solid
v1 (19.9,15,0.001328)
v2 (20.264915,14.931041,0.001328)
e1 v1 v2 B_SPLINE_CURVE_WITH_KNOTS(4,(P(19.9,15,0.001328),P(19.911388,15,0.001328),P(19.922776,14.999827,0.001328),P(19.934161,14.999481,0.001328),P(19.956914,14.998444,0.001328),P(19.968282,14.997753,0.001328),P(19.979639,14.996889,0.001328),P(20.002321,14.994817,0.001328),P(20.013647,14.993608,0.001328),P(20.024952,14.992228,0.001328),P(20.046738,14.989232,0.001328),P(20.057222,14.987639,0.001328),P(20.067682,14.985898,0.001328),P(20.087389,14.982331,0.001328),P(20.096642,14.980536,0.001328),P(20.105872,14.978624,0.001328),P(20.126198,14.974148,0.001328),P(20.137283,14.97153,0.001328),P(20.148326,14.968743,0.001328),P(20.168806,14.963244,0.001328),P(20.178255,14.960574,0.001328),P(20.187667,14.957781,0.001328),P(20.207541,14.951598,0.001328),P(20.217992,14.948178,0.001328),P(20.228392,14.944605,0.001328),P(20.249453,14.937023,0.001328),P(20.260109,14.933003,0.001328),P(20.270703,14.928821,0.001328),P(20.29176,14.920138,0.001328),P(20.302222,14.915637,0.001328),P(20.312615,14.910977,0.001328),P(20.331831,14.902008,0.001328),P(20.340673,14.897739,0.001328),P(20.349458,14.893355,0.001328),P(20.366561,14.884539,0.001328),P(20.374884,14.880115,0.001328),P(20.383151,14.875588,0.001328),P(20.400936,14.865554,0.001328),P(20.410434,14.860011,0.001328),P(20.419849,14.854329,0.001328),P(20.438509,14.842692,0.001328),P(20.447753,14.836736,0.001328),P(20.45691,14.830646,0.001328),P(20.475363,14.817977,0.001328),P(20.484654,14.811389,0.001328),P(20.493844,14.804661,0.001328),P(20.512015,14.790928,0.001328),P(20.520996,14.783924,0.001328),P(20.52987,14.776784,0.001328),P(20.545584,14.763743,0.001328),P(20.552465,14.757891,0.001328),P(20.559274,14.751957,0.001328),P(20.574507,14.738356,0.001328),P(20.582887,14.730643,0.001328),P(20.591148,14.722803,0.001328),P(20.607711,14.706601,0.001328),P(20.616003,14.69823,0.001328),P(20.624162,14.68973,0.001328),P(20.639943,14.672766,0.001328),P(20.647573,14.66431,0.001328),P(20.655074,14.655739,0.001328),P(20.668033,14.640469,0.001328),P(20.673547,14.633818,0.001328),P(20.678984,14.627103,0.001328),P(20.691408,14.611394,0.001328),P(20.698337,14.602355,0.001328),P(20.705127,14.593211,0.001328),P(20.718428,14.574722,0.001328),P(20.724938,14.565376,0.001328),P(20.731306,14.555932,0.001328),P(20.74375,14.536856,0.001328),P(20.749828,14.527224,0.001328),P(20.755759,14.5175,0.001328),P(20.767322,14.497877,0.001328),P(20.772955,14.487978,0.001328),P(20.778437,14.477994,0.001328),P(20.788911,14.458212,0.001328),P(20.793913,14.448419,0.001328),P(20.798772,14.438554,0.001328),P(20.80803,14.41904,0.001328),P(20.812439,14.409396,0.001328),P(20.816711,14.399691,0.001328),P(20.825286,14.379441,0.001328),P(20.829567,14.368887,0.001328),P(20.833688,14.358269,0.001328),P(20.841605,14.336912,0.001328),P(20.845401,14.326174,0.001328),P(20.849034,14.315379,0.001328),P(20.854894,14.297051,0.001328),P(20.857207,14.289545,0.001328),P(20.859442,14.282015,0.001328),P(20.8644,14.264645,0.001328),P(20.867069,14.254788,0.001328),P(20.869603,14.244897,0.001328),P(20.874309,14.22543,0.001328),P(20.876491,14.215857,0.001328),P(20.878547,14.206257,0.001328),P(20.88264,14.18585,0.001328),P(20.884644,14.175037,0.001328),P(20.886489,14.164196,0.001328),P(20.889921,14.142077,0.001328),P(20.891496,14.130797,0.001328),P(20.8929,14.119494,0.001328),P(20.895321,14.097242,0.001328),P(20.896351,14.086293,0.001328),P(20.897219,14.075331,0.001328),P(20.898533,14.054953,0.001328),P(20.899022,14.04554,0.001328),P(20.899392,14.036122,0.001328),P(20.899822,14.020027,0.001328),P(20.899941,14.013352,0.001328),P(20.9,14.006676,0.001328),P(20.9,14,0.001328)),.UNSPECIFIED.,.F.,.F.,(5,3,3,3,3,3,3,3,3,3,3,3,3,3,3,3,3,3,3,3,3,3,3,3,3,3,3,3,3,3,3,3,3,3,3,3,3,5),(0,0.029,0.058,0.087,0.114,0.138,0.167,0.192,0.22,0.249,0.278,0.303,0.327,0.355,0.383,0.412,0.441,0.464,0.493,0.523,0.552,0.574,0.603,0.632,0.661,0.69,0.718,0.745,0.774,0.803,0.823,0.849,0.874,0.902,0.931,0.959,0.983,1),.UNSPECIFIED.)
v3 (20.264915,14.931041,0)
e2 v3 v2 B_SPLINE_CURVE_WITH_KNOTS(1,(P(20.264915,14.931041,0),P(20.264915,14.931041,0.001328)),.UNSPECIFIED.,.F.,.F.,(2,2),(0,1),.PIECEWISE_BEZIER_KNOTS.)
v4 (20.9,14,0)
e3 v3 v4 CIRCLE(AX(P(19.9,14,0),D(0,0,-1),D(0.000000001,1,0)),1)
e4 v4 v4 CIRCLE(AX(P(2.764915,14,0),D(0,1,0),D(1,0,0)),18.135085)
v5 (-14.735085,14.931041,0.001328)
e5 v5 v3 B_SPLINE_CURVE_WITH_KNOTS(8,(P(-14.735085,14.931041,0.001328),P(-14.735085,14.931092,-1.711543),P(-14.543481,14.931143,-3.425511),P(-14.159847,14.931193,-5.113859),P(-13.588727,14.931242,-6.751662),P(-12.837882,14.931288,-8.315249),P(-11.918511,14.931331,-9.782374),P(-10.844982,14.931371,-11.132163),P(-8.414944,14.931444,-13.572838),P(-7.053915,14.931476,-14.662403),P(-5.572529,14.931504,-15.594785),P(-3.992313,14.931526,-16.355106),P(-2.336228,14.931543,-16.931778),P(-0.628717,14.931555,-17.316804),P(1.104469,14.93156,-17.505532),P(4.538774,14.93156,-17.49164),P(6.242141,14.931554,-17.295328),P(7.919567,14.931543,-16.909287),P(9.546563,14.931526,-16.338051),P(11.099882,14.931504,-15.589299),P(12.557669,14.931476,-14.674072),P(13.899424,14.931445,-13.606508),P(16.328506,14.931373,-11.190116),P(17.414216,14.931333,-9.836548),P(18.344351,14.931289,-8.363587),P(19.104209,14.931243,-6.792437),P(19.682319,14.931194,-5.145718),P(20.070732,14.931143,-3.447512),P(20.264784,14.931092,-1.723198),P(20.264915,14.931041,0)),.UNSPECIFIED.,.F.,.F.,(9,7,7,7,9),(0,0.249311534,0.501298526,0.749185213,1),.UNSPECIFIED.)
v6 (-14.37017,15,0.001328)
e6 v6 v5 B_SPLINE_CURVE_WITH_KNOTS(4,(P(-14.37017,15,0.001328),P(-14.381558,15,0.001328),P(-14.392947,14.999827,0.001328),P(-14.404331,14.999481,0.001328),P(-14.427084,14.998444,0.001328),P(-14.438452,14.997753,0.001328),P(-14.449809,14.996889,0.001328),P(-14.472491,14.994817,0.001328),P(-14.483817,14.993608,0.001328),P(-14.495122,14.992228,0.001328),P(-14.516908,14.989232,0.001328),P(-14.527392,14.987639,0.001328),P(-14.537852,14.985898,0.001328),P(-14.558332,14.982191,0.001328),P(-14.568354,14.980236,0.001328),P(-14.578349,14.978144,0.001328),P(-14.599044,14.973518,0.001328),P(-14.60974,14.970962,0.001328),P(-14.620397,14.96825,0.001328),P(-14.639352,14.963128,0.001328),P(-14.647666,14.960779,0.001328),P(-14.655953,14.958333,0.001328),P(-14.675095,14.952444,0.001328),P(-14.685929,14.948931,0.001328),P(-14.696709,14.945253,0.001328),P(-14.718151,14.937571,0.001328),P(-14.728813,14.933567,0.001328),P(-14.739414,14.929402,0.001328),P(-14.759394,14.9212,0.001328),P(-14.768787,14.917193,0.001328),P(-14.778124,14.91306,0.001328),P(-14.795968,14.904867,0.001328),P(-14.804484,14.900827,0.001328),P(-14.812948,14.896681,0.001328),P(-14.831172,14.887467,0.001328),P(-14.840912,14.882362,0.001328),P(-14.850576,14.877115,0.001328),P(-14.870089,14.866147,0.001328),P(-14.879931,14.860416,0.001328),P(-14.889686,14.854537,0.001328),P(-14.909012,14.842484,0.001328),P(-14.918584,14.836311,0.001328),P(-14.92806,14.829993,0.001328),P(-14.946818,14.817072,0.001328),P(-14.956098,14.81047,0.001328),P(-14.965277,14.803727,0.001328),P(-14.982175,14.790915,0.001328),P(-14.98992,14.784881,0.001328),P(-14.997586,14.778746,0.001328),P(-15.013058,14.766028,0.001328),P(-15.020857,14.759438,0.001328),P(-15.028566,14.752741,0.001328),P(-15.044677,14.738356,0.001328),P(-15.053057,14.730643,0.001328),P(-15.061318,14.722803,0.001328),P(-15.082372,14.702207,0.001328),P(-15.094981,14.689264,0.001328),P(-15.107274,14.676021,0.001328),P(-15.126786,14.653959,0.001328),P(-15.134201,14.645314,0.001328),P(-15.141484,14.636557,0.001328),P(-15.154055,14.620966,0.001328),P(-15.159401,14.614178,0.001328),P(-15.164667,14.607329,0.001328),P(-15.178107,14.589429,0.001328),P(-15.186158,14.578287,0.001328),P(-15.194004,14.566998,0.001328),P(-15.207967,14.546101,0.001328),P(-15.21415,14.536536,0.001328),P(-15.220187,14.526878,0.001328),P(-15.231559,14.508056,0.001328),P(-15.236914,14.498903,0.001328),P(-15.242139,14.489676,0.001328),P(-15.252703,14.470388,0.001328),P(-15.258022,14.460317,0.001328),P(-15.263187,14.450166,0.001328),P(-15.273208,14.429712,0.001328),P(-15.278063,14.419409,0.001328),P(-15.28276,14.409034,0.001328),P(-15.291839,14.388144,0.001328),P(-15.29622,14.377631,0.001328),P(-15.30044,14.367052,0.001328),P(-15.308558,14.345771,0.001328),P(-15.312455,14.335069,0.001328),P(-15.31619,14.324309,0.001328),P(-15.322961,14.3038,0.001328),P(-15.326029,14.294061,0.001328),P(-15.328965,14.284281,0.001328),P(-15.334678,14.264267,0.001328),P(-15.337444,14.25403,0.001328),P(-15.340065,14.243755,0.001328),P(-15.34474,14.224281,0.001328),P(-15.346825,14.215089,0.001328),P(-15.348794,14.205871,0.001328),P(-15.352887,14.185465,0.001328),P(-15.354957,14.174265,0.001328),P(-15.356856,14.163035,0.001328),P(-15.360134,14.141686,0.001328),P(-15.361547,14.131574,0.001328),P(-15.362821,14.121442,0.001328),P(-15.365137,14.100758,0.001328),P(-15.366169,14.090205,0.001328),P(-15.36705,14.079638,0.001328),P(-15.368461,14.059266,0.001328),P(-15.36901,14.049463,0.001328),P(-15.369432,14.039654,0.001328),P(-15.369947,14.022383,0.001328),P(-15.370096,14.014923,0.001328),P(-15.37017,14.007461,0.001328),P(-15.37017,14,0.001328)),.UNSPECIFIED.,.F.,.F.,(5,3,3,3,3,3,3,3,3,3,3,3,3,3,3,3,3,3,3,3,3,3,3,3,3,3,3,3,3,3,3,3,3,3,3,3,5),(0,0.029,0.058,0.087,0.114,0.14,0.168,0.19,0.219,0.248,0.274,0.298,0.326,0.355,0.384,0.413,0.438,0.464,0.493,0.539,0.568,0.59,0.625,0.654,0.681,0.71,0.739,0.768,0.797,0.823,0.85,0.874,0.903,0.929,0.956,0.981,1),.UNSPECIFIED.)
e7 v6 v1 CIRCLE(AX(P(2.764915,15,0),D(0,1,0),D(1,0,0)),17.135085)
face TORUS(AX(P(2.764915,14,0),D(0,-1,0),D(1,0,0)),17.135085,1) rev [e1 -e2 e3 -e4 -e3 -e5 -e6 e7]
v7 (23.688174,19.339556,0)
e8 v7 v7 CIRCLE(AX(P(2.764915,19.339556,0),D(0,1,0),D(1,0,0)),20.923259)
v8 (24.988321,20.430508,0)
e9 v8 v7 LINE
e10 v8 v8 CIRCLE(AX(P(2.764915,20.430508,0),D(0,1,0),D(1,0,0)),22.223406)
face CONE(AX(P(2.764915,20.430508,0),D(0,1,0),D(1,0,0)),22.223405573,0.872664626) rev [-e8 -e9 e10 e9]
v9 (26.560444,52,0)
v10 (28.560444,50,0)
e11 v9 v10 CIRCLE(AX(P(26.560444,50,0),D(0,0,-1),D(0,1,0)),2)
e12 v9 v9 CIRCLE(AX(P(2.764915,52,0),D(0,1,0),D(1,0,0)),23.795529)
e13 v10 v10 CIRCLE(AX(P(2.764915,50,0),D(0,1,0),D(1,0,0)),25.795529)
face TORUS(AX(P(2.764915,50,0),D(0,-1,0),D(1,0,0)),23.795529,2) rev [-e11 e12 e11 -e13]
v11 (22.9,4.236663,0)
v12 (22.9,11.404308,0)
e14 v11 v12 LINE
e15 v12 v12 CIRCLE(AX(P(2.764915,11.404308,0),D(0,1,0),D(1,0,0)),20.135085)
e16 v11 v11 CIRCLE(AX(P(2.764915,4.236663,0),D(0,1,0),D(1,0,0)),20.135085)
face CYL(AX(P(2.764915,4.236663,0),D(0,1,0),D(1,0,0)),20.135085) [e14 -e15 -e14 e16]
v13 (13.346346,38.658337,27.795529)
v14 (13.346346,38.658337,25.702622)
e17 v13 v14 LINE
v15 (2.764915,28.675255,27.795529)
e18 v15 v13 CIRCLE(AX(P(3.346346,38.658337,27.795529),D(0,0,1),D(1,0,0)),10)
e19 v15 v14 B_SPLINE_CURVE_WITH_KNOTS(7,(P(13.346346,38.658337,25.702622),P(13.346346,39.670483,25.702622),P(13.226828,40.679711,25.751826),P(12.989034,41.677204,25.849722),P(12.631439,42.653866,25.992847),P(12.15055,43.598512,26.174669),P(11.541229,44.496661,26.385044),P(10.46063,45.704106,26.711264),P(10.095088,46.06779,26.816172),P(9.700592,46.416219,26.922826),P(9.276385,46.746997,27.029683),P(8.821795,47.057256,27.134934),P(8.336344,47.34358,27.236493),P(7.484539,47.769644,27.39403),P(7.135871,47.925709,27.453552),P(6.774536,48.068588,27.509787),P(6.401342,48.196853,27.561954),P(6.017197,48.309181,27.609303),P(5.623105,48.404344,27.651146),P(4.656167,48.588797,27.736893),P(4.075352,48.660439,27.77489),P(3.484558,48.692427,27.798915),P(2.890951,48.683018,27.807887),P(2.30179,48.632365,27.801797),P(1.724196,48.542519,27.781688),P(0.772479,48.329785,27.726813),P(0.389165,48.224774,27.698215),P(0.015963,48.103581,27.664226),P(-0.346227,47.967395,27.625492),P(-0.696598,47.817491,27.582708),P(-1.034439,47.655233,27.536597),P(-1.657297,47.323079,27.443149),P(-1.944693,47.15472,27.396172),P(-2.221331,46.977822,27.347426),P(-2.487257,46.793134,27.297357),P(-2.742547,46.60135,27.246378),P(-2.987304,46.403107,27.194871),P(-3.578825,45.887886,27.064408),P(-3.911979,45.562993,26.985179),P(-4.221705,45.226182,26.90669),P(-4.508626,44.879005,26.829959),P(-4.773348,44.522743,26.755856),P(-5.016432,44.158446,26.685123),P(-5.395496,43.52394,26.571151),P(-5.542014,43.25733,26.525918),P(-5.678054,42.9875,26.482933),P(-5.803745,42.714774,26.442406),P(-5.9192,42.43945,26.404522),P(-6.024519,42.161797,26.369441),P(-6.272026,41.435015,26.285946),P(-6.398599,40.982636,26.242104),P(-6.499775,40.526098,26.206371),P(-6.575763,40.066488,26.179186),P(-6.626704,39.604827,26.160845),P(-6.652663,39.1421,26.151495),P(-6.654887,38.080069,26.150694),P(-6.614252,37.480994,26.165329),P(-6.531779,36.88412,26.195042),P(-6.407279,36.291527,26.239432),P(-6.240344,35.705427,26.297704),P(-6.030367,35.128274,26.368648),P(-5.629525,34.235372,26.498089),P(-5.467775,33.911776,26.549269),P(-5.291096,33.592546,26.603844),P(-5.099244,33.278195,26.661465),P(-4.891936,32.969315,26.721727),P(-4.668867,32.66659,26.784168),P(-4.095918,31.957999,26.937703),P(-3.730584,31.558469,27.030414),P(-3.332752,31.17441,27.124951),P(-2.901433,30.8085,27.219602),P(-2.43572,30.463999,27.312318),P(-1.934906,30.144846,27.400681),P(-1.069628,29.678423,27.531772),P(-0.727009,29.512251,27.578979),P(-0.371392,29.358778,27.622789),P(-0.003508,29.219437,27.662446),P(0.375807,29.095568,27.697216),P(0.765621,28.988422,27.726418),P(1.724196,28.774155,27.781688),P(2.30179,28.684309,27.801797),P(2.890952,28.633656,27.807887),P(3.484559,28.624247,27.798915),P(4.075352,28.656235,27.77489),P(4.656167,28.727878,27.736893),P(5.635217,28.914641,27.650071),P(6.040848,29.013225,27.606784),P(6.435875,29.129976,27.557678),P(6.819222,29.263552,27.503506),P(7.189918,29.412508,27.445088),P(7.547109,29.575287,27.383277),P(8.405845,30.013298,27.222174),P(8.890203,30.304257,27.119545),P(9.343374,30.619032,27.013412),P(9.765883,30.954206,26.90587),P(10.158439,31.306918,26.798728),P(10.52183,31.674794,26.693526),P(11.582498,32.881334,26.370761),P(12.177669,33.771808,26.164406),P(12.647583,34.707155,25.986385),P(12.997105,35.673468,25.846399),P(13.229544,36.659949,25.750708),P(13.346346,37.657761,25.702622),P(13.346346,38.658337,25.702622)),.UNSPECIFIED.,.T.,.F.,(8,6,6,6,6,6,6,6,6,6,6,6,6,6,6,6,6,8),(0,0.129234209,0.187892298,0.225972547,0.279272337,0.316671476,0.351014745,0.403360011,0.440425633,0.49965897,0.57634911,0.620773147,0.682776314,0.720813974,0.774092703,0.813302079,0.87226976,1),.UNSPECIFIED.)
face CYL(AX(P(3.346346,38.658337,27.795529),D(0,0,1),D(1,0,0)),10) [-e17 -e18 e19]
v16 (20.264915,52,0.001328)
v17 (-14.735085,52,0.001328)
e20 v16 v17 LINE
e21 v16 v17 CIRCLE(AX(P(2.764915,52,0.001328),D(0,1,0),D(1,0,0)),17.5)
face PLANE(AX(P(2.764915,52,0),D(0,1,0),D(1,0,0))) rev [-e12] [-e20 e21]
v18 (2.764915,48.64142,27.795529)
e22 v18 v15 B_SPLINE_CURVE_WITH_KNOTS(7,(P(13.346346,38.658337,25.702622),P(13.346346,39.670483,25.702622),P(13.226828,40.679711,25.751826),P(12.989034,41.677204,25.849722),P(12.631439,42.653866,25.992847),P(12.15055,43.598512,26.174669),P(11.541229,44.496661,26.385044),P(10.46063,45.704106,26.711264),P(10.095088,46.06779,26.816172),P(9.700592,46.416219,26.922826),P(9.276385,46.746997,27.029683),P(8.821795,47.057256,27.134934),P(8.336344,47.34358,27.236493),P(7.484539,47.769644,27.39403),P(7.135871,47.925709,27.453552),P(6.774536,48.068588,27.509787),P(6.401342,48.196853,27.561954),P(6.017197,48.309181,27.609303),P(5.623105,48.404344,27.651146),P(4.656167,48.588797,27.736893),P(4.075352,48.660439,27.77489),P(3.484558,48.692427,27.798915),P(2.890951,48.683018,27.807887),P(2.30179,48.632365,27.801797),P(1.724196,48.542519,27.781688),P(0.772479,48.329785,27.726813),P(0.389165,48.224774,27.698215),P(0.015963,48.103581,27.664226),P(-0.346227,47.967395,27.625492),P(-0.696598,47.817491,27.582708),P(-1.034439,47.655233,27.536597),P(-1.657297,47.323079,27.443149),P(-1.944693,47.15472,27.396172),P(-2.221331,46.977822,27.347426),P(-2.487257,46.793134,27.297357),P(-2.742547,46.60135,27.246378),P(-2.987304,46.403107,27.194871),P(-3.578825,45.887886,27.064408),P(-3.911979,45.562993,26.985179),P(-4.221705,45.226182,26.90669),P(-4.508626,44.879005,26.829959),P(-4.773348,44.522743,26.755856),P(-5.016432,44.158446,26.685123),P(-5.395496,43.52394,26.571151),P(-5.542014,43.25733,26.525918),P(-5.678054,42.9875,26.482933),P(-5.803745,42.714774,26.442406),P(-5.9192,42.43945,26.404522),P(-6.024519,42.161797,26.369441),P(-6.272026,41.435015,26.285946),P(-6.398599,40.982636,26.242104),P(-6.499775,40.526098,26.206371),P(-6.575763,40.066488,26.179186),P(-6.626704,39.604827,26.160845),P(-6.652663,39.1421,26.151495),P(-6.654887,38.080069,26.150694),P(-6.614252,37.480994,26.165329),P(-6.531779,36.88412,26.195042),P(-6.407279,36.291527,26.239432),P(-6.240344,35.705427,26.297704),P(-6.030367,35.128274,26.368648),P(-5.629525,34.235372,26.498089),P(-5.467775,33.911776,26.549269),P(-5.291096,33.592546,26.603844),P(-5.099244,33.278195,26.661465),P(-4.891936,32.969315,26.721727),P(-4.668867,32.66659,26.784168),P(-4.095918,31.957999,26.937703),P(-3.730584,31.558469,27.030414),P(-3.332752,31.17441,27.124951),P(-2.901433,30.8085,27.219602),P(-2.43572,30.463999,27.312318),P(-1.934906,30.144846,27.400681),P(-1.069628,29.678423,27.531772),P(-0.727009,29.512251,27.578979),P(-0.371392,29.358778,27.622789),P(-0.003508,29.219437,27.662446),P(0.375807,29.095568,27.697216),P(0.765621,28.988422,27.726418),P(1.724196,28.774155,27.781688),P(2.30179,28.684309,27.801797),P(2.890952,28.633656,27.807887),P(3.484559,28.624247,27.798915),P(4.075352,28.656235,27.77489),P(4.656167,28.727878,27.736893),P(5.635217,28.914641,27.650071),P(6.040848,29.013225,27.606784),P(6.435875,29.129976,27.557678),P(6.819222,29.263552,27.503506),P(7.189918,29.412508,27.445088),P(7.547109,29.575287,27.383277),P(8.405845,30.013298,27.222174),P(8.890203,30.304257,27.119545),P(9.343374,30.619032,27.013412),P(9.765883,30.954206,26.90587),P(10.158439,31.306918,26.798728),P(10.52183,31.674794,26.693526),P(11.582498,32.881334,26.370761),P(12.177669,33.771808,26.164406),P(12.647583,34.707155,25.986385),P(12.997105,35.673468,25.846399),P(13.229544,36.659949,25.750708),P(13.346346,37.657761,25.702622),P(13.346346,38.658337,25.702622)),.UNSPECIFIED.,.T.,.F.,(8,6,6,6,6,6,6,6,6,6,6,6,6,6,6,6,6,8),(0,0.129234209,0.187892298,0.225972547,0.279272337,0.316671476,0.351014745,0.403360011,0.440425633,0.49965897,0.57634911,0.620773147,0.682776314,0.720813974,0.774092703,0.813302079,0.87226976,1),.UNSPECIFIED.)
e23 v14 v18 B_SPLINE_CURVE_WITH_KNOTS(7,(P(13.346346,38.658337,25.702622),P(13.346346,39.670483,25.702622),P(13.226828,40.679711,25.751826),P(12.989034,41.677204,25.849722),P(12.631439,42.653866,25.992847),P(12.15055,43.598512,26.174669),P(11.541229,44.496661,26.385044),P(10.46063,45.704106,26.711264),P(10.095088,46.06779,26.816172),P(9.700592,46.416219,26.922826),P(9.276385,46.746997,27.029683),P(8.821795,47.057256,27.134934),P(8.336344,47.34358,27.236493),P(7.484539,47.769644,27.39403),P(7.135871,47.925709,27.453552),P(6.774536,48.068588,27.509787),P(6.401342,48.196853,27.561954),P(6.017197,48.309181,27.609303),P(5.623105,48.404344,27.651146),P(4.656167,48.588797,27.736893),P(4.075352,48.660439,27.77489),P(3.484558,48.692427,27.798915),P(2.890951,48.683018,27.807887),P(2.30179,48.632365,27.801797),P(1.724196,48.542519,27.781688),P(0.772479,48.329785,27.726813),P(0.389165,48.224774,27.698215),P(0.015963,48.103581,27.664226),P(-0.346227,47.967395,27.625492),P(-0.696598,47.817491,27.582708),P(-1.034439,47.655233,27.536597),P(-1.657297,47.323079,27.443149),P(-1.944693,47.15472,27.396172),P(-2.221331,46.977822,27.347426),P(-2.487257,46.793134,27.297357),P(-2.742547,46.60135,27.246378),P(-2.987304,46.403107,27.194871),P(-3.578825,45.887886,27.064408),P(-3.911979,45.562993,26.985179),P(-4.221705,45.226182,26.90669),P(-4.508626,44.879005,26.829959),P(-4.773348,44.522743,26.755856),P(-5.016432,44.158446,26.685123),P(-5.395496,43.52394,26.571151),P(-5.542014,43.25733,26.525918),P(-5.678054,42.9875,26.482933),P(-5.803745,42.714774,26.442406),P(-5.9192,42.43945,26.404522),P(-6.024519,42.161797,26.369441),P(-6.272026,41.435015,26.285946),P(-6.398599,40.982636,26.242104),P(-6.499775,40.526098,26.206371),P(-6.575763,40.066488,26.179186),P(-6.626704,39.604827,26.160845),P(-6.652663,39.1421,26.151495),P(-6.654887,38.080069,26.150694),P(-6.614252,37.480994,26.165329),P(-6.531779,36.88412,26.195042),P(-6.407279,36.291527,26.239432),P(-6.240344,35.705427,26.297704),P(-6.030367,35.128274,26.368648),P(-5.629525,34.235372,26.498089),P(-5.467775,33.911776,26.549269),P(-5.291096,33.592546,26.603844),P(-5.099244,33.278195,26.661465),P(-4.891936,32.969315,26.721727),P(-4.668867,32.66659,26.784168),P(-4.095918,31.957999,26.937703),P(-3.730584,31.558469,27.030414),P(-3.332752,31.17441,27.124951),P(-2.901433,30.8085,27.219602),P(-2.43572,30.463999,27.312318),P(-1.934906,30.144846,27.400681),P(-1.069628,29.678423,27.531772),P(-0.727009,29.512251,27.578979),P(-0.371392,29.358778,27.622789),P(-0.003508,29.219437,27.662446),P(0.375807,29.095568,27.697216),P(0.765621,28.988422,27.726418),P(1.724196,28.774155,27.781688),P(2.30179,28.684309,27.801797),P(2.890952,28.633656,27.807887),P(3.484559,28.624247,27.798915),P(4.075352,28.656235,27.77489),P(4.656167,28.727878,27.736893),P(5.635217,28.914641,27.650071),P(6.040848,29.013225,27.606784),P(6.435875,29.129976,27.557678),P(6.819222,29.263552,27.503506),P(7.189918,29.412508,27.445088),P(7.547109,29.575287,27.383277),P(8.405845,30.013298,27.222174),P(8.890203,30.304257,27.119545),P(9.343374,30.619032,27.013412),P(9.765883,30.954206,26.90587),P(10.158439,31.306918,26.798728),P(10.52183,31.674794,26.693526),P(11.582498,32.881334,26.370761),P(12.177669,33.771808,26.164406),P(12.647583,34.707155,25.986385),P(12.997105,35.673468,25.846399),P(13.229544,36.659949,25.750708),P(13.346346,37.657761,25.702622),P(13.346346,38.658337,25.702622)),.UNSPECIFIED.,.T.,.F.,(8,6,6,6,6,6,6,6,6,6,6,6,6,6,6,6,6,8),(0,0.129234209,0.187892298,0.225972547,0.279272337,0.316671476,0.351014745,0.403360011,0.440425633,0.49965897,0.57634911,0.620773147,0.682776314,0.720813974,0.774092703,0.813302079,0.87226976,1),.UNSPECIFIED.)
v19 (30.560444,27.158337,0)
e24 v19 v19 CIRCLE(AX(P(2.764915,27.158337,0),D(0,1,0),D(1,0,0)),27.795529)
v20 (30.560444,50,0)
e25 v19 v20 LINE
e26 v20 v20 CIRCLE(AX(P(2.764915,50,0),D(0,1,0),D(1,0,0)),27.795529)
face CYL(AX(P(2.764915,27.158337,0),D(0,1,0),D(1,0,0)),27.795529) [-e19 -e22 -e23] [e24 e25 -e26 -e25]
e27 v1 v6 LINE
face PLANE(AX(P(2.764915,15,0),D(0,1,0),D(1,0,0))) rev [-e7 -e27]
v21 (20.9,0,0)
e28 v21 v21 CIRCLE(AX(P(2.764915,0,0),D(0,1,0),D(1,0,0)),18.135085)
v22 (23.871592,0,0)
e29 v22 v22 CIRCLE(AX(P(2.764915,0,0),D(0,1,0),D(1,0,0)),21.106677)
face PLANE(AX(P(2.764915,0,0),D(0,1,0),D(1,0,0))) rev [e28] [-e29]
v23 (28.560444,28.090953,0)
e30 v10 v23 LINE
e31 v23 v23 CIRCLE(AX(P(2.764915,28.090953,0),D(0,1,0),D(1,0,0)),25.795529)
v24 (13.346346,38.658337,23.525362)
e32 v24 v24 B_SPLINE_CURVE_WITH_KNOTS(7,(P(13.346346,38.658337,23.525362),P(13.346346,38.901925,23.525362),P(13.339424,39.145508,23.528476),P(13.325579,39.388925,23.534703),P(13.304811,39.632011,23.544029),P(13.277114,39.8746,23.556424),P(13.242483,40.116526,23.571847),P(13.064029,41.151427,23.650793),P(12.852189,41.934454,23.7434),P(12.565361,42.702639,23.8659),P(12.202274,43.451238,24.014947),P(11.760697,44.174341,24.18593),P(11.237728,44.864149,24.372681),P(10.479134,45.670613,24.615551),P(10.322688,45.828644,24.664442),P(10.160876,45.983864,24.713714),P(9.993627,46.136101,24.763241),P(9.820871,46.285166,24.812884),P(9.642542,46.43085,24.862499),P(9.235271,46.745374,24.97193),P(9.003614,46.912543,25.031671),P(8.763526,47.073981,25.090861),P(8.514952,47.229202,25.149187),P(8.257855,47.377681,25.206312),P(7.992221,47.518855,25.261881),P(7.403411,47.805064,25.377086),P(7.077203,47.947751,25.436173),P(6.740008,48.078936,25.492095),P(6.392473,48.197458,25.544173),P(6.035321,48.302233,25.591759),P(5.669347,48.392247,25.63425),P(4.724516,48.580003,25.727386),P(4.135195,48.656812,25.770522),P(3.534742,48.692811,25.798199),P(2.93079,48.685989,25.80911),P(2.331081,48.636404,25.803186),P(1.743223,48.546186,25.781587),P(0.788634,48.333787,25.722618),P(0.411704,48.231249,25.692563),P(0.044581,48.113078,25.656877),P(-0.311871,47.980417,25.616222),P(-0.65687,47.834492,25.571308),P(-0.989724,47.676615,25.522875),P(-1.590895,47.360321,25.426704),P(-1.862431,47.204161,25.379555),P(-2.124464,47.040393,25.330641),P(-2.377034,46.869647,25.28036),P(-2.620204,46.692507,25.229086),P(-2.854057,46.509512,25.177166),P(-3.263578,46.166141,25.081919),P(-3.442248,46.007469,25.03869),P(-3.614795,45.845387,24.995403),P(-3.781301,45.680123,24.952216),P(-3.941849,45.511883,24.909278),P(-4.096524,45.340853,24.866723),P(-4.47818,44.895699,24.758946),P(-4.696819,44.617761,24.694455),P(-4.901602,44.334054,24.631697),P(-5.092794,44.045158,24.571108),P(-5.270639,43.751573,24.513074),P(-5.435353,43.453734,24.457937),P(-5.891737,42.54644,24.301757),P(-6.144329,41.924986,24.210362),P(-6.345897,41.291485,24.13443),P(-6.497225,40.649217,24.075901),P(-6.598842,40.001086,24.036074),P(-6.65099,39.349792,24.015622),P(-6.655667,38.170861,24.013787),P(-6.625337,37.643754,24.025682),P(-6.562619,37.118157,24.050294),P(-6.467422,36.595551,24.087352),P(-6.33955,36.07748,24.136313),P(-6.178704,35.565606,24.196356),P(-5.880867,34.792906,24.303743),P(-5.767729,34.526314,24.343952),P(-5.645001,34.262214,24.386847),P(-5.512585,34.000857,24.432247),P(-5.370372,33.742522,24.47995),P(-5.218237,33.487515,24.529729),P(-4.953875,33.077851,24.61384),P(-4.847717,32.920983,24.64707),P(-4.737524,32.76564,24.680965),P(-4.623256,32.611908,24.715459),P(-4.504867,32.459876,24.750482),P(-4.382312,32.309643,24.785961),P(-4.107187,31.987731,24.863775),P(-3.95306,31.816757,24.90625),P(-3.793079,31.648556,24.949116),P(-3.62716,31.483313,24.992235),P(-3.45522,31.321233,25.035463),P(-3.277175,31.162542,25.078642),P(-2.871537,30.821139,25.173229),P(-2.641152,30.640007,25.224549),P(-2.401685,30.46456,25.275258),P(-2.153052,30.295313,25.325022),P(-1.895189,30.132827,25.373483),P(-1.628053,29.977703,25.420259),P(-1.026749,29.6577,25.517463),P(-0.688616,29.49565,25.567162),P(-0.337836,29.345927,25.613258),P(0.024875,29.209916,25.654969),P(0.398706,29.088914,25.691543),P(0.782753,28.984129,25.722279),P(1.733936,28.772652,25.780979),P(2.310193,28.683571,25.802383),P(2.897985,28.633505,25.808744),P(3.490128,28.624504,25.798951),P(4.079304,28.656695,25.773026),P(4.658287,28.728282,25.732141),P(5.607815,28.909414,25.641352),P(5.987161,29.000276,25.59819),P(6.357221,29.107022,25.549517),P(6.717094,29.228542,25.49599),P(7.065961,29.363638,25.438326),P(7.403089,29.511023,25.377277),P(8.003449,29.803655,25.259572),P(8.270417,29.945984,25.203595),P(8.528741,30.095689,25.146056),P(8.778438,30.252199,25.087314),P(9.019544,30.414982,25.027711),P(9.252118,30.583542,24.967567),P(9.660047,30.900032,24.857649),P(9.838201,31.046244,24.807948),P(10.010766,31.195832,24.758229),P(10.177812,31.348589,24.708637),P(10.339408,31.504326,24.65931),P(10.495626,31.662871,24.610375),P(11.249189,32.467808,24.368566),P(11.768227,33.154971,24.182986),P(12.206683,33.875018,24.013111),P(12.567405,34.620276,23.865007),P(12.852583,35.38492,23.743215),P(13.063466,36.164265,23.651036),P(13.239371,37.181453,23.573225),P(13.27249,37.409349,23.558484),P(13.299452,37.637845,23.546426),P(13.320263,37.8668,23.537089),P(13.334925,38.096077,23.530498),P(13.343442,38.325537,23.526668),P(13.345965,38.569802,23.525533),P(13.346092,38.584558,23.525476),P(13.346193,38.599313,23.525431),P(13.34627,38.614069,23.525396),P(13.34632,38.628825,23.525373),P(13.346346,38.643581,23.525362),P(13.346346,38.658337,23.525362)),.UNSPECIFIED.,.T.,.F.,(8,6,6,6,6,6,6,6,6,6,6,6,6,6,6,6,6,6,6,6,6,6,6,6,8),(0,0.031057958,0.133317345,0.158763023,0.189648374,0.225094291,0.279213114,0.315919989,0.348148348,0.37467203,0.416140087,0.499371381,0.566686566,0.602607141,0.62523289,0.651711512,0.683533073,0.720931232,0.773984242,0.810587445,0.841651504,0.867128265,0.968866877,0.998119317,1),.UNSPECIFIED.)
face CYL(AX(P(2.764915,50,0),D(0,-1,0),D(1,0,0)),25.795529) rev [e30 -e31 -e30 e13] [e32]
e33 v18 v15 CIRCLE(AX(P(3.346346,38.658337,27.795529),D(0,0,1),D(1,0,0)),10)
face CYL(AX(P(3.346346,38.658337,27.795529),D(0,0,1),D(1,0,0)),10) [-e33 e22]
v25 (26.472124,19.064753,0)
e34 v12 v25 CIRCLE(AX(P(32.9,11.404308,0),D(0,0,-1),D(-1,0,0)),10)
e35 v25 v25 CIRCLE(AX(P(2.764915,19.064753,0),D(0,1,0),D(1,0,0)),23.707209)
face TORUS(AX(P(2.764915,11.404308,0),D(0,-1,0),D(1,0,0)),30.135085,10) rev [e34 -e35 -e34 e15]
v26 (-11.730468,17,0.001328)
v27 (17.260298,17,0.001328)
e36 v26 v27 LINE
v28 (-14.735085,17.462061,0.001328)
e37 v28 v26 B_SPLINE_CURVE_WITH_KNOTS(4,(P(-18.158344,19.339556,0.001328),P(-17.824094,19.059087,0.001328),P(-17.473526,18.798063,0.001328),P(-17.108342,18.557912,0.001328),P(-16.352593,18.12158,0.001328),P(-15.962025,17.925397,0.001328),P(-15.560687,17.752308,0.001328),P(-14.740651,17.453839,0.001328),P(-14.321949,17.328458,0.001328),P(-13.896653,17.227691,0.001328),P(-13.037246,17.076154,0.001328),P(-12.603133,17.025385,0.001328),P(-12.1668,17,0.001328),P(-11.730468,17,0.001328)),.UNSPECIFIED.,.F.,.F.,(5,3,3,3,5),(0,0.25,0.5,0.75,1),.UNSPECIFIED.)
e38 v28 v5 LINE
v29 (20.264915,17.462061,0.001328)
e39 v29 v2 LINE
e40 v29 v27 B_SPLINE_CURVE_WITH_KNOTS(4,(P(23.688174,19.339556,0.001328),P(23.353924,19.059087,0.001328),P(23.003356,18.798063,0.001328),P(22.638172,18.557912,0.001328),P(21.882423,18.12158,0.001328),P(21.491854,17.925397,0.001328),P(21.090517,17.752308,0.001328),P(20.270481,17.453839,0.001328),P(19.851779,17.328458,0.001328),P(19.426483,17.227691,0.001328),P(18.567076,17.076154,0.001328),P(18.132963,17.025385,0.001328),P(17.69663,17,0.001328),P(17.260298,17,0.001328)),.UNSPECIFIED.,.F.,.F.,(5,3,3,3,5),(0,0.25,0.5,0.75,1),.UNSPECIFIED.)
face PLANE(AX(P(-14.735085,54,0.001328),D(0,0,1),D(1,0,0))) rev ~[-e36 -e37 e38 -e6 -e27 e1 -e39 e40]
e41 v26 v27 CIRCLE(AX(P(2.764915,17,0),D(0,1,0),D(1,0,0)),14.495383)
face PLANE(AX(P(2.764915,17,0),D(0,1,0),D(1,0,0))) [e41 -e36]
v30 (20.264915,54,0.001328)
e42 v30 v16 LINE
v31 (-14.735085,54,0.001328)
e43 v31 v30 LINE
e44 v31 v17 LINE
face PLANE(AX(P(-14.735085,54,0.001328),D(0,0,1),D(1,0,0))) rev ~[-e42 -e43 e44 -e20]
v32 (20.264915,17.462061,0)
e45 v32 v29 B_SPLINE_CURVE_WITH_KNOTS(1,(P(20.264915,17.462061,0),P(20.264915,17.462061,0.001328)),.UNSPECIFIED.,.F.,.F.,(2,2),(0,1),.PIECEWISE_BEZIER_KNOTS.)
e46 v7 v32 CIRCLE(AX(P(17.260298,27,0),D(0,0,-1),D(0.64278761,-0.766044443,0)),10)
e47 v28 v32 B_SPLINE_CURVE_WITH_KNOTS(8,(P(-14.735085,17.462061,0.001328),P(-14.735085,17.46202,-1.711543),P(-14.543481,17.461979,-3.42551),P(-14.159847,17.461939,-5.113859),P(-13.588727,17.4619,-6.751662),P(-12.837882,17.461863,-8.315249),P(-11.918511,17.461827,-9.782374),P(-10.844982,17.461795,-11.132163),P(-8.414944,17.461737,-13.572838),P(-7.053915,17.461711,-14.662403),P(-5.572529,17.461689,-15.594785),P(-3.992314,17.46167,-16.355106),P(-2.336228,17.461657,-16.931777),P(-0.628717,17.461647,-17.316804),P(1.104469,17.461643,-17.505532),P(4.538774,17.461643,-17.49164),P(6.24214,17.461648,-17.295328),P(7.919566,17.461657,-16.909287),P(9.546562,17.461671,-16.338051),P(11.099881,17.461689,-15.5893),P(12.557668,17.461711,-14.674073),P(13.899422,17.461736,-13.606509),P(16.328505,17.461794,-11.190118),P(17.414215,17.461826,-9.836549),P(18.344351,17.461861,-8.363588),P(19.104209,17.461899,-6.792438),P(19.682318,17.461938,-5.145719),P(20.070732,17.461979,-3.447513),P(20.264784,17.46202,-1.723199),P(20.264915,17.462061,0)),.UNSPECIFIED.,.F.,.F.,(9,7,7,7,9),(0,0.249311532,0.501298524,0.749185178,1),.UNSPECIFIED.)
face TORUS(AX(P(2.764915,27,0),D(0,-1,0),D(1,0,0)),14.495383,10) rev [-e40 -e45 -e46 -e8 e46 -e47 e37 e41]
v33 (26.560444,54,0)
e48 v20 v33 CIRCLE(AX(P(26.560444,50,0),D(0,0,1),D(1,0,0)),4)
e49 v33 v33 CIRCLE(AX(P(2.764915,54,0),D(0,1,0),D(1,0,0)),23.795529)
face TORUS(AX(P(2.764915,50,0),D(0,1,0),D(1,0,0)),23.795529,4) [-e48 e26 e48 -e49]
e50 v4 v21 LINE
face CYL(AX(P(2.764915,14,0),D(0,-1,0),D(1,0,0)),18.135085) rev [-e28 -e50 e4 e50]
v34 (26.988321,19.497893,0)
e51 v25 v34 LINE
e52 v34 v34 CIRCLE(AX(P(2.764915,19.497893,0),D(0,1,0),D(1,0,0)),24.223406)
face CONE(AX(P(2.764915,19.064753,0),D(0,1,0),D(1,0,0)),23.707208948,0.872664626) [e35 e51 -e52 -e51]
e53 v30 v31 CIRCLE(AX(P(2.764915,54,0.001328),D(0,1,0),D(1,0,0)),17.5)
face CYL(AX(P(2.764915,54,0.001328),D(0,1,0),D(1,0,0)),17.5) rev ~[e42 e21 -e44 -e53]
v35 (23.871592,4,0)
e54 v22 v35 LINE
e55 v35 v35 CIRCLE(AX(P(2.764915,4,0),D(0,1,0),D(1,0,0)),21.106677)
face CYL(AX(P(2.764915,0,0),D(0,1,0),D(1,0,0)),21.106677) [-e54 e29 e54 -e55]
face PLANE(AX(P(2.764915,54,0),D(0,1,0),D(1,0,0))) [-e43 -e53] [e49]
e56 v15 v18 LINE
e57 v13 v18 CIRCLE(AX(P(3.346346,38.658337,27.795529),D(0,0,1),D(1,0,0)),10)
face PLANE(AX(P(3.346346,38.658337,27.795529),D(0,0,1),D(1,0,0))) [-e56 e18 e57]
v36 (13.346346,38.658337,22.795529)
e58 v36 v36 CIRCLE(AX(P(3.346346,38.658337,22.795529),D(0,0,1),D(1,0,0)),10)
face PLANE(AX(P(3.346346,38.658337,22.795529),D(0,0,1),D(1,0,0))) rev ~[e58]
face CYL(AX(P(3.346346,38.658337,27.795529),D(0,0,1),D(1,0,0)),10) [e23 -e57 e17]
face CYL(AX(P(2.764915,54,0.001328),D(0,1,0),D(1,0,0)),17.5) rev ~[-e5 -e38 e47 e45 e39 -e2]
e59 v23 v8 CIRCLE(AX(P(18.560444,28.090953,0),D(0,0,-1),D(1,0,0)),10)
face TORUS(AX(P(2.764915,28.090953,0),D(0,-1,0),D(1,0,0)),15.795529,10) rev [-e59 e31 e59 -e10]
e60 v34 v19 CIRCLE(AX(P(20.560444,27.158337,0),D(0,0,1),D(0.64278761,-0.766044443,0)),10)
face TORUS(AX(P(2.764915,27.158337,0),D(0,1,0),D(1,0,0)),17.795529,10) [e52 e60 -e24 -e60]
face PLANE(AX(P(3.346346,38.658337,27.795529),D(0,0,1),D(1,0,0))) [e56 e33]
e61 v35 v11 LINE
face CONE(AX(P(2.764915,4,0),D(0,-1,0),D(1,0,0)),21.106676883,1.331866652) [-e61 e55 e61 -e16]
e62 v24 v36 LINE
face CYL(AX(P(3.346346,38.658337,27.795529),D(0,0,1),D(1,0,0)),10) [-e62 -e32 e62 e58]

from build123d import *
from build123d.topology import SkipClean

# Parameters (mm, degrees)
CUT_EXTRUDE2_DEPTH  = 40
SKETCH10_R          = 10
BOSS_EXTRUDE1_DEPTH = 5


with BuildPart() as part:
    # Sketch1 → Revolve1 (revolve)
    with BuildSketch(Plane.XY):
        with BuildLine():
            Line((20.9, 0), (23.871591838, 0))
            Line((23.871591838, 0), (23.871591838, 4))
            Line((23.871591838, 4), (22.9, 4.236662843))
            Line((22.9, 4.236662843), (22.9, 11.404308102))
            ThreePointArc((22.9, 11.404308102), (23.83692213, 15.63049072), (26.472123903, 19.064752533))
            Line((26.472123903, 19.064752533), (26.988320528, 19.497892931))
            ThreePointArc((26.988320528, 19.497892931), (29.623522302, 22.932154745), (30.560444431, 27.158337362))
            Line((30.560444431, 27.158337362), (30.560444431, 50))
            ThreePointArc((30.560444431, 50), (29.388871556, 52.828427125), (26.560444431, 54))
            Line((26.560444431, 54), (2.764914955, 54))
            Line((2.764914955, 54), (2.764914955, 52))
            Line((2.764914955, 52), (26.560444431, 52))
            ThreePointArc((26.560444431, 52), (27.974657994, 51.414213562), (28.560444431, 50))
            Line((28.560444431, 50), (28.560444431, 28.090952678))
            ThreePointArc((28.560444431, 28.090952678), (27.623522302, 23.864770061), (24.988320528, 20.430508247))
            Line((24.988320528, 20.430508247), (23.688173754, 19.339555569))
            ThreePointArc((23.688173754, 19.339555569), (20.680499091, 17.603073792), (17.260297657, 17))
            Line((17.260297657, 17), (2.764914955, 17))
            Line((2.764914955, 17), (2.764914955, 15))
            Line((2.764914955, 15), (19.9, 15))
            ThreePointArc((19.9, 15), (20.607106781, 14.707106781), (20.9, 14))
            Line((20.9, 14), (20.9, 0))
        make_face()
    revolve(axis=Axis((2.764914955, 7.821821657, 0), (0, 1, 0)))

    # Sketch9 → Cut-Extrude2 (cut)
    with BuildSketch(Plane(origin=(0, 54, 0), x_dir=(1, 0, 0), z_dir=(0, 1, 0))):
        with BuildLine():
            Line((-14.735084994, -0.001327718), (20.264915006, -0.001327718))
            ThreePointArc((20.264915006, -0.001327718), (2.764915006, 17.498672282), (-14.735084994, -0.001327718))
        make_face()
    extrude(amount=-CUT_EXTRUDE2_DEPTH, mode=Mode.SUBTRACT)

    # Sketch10 → Boss-Extrude1 (add)
    with SkipClean():  # the faces are left unmerged after this step: merging them gives an invalid solid
        with BuildSketch(Plane.XY.offset(27.795529476)):
            with Locations((3.346345887, 38.658337362)):
                Circle(SKETCH10_R)
        extrude(amount=-BOSS_EXTRUDE1_DEPTH)


solid = part.part
